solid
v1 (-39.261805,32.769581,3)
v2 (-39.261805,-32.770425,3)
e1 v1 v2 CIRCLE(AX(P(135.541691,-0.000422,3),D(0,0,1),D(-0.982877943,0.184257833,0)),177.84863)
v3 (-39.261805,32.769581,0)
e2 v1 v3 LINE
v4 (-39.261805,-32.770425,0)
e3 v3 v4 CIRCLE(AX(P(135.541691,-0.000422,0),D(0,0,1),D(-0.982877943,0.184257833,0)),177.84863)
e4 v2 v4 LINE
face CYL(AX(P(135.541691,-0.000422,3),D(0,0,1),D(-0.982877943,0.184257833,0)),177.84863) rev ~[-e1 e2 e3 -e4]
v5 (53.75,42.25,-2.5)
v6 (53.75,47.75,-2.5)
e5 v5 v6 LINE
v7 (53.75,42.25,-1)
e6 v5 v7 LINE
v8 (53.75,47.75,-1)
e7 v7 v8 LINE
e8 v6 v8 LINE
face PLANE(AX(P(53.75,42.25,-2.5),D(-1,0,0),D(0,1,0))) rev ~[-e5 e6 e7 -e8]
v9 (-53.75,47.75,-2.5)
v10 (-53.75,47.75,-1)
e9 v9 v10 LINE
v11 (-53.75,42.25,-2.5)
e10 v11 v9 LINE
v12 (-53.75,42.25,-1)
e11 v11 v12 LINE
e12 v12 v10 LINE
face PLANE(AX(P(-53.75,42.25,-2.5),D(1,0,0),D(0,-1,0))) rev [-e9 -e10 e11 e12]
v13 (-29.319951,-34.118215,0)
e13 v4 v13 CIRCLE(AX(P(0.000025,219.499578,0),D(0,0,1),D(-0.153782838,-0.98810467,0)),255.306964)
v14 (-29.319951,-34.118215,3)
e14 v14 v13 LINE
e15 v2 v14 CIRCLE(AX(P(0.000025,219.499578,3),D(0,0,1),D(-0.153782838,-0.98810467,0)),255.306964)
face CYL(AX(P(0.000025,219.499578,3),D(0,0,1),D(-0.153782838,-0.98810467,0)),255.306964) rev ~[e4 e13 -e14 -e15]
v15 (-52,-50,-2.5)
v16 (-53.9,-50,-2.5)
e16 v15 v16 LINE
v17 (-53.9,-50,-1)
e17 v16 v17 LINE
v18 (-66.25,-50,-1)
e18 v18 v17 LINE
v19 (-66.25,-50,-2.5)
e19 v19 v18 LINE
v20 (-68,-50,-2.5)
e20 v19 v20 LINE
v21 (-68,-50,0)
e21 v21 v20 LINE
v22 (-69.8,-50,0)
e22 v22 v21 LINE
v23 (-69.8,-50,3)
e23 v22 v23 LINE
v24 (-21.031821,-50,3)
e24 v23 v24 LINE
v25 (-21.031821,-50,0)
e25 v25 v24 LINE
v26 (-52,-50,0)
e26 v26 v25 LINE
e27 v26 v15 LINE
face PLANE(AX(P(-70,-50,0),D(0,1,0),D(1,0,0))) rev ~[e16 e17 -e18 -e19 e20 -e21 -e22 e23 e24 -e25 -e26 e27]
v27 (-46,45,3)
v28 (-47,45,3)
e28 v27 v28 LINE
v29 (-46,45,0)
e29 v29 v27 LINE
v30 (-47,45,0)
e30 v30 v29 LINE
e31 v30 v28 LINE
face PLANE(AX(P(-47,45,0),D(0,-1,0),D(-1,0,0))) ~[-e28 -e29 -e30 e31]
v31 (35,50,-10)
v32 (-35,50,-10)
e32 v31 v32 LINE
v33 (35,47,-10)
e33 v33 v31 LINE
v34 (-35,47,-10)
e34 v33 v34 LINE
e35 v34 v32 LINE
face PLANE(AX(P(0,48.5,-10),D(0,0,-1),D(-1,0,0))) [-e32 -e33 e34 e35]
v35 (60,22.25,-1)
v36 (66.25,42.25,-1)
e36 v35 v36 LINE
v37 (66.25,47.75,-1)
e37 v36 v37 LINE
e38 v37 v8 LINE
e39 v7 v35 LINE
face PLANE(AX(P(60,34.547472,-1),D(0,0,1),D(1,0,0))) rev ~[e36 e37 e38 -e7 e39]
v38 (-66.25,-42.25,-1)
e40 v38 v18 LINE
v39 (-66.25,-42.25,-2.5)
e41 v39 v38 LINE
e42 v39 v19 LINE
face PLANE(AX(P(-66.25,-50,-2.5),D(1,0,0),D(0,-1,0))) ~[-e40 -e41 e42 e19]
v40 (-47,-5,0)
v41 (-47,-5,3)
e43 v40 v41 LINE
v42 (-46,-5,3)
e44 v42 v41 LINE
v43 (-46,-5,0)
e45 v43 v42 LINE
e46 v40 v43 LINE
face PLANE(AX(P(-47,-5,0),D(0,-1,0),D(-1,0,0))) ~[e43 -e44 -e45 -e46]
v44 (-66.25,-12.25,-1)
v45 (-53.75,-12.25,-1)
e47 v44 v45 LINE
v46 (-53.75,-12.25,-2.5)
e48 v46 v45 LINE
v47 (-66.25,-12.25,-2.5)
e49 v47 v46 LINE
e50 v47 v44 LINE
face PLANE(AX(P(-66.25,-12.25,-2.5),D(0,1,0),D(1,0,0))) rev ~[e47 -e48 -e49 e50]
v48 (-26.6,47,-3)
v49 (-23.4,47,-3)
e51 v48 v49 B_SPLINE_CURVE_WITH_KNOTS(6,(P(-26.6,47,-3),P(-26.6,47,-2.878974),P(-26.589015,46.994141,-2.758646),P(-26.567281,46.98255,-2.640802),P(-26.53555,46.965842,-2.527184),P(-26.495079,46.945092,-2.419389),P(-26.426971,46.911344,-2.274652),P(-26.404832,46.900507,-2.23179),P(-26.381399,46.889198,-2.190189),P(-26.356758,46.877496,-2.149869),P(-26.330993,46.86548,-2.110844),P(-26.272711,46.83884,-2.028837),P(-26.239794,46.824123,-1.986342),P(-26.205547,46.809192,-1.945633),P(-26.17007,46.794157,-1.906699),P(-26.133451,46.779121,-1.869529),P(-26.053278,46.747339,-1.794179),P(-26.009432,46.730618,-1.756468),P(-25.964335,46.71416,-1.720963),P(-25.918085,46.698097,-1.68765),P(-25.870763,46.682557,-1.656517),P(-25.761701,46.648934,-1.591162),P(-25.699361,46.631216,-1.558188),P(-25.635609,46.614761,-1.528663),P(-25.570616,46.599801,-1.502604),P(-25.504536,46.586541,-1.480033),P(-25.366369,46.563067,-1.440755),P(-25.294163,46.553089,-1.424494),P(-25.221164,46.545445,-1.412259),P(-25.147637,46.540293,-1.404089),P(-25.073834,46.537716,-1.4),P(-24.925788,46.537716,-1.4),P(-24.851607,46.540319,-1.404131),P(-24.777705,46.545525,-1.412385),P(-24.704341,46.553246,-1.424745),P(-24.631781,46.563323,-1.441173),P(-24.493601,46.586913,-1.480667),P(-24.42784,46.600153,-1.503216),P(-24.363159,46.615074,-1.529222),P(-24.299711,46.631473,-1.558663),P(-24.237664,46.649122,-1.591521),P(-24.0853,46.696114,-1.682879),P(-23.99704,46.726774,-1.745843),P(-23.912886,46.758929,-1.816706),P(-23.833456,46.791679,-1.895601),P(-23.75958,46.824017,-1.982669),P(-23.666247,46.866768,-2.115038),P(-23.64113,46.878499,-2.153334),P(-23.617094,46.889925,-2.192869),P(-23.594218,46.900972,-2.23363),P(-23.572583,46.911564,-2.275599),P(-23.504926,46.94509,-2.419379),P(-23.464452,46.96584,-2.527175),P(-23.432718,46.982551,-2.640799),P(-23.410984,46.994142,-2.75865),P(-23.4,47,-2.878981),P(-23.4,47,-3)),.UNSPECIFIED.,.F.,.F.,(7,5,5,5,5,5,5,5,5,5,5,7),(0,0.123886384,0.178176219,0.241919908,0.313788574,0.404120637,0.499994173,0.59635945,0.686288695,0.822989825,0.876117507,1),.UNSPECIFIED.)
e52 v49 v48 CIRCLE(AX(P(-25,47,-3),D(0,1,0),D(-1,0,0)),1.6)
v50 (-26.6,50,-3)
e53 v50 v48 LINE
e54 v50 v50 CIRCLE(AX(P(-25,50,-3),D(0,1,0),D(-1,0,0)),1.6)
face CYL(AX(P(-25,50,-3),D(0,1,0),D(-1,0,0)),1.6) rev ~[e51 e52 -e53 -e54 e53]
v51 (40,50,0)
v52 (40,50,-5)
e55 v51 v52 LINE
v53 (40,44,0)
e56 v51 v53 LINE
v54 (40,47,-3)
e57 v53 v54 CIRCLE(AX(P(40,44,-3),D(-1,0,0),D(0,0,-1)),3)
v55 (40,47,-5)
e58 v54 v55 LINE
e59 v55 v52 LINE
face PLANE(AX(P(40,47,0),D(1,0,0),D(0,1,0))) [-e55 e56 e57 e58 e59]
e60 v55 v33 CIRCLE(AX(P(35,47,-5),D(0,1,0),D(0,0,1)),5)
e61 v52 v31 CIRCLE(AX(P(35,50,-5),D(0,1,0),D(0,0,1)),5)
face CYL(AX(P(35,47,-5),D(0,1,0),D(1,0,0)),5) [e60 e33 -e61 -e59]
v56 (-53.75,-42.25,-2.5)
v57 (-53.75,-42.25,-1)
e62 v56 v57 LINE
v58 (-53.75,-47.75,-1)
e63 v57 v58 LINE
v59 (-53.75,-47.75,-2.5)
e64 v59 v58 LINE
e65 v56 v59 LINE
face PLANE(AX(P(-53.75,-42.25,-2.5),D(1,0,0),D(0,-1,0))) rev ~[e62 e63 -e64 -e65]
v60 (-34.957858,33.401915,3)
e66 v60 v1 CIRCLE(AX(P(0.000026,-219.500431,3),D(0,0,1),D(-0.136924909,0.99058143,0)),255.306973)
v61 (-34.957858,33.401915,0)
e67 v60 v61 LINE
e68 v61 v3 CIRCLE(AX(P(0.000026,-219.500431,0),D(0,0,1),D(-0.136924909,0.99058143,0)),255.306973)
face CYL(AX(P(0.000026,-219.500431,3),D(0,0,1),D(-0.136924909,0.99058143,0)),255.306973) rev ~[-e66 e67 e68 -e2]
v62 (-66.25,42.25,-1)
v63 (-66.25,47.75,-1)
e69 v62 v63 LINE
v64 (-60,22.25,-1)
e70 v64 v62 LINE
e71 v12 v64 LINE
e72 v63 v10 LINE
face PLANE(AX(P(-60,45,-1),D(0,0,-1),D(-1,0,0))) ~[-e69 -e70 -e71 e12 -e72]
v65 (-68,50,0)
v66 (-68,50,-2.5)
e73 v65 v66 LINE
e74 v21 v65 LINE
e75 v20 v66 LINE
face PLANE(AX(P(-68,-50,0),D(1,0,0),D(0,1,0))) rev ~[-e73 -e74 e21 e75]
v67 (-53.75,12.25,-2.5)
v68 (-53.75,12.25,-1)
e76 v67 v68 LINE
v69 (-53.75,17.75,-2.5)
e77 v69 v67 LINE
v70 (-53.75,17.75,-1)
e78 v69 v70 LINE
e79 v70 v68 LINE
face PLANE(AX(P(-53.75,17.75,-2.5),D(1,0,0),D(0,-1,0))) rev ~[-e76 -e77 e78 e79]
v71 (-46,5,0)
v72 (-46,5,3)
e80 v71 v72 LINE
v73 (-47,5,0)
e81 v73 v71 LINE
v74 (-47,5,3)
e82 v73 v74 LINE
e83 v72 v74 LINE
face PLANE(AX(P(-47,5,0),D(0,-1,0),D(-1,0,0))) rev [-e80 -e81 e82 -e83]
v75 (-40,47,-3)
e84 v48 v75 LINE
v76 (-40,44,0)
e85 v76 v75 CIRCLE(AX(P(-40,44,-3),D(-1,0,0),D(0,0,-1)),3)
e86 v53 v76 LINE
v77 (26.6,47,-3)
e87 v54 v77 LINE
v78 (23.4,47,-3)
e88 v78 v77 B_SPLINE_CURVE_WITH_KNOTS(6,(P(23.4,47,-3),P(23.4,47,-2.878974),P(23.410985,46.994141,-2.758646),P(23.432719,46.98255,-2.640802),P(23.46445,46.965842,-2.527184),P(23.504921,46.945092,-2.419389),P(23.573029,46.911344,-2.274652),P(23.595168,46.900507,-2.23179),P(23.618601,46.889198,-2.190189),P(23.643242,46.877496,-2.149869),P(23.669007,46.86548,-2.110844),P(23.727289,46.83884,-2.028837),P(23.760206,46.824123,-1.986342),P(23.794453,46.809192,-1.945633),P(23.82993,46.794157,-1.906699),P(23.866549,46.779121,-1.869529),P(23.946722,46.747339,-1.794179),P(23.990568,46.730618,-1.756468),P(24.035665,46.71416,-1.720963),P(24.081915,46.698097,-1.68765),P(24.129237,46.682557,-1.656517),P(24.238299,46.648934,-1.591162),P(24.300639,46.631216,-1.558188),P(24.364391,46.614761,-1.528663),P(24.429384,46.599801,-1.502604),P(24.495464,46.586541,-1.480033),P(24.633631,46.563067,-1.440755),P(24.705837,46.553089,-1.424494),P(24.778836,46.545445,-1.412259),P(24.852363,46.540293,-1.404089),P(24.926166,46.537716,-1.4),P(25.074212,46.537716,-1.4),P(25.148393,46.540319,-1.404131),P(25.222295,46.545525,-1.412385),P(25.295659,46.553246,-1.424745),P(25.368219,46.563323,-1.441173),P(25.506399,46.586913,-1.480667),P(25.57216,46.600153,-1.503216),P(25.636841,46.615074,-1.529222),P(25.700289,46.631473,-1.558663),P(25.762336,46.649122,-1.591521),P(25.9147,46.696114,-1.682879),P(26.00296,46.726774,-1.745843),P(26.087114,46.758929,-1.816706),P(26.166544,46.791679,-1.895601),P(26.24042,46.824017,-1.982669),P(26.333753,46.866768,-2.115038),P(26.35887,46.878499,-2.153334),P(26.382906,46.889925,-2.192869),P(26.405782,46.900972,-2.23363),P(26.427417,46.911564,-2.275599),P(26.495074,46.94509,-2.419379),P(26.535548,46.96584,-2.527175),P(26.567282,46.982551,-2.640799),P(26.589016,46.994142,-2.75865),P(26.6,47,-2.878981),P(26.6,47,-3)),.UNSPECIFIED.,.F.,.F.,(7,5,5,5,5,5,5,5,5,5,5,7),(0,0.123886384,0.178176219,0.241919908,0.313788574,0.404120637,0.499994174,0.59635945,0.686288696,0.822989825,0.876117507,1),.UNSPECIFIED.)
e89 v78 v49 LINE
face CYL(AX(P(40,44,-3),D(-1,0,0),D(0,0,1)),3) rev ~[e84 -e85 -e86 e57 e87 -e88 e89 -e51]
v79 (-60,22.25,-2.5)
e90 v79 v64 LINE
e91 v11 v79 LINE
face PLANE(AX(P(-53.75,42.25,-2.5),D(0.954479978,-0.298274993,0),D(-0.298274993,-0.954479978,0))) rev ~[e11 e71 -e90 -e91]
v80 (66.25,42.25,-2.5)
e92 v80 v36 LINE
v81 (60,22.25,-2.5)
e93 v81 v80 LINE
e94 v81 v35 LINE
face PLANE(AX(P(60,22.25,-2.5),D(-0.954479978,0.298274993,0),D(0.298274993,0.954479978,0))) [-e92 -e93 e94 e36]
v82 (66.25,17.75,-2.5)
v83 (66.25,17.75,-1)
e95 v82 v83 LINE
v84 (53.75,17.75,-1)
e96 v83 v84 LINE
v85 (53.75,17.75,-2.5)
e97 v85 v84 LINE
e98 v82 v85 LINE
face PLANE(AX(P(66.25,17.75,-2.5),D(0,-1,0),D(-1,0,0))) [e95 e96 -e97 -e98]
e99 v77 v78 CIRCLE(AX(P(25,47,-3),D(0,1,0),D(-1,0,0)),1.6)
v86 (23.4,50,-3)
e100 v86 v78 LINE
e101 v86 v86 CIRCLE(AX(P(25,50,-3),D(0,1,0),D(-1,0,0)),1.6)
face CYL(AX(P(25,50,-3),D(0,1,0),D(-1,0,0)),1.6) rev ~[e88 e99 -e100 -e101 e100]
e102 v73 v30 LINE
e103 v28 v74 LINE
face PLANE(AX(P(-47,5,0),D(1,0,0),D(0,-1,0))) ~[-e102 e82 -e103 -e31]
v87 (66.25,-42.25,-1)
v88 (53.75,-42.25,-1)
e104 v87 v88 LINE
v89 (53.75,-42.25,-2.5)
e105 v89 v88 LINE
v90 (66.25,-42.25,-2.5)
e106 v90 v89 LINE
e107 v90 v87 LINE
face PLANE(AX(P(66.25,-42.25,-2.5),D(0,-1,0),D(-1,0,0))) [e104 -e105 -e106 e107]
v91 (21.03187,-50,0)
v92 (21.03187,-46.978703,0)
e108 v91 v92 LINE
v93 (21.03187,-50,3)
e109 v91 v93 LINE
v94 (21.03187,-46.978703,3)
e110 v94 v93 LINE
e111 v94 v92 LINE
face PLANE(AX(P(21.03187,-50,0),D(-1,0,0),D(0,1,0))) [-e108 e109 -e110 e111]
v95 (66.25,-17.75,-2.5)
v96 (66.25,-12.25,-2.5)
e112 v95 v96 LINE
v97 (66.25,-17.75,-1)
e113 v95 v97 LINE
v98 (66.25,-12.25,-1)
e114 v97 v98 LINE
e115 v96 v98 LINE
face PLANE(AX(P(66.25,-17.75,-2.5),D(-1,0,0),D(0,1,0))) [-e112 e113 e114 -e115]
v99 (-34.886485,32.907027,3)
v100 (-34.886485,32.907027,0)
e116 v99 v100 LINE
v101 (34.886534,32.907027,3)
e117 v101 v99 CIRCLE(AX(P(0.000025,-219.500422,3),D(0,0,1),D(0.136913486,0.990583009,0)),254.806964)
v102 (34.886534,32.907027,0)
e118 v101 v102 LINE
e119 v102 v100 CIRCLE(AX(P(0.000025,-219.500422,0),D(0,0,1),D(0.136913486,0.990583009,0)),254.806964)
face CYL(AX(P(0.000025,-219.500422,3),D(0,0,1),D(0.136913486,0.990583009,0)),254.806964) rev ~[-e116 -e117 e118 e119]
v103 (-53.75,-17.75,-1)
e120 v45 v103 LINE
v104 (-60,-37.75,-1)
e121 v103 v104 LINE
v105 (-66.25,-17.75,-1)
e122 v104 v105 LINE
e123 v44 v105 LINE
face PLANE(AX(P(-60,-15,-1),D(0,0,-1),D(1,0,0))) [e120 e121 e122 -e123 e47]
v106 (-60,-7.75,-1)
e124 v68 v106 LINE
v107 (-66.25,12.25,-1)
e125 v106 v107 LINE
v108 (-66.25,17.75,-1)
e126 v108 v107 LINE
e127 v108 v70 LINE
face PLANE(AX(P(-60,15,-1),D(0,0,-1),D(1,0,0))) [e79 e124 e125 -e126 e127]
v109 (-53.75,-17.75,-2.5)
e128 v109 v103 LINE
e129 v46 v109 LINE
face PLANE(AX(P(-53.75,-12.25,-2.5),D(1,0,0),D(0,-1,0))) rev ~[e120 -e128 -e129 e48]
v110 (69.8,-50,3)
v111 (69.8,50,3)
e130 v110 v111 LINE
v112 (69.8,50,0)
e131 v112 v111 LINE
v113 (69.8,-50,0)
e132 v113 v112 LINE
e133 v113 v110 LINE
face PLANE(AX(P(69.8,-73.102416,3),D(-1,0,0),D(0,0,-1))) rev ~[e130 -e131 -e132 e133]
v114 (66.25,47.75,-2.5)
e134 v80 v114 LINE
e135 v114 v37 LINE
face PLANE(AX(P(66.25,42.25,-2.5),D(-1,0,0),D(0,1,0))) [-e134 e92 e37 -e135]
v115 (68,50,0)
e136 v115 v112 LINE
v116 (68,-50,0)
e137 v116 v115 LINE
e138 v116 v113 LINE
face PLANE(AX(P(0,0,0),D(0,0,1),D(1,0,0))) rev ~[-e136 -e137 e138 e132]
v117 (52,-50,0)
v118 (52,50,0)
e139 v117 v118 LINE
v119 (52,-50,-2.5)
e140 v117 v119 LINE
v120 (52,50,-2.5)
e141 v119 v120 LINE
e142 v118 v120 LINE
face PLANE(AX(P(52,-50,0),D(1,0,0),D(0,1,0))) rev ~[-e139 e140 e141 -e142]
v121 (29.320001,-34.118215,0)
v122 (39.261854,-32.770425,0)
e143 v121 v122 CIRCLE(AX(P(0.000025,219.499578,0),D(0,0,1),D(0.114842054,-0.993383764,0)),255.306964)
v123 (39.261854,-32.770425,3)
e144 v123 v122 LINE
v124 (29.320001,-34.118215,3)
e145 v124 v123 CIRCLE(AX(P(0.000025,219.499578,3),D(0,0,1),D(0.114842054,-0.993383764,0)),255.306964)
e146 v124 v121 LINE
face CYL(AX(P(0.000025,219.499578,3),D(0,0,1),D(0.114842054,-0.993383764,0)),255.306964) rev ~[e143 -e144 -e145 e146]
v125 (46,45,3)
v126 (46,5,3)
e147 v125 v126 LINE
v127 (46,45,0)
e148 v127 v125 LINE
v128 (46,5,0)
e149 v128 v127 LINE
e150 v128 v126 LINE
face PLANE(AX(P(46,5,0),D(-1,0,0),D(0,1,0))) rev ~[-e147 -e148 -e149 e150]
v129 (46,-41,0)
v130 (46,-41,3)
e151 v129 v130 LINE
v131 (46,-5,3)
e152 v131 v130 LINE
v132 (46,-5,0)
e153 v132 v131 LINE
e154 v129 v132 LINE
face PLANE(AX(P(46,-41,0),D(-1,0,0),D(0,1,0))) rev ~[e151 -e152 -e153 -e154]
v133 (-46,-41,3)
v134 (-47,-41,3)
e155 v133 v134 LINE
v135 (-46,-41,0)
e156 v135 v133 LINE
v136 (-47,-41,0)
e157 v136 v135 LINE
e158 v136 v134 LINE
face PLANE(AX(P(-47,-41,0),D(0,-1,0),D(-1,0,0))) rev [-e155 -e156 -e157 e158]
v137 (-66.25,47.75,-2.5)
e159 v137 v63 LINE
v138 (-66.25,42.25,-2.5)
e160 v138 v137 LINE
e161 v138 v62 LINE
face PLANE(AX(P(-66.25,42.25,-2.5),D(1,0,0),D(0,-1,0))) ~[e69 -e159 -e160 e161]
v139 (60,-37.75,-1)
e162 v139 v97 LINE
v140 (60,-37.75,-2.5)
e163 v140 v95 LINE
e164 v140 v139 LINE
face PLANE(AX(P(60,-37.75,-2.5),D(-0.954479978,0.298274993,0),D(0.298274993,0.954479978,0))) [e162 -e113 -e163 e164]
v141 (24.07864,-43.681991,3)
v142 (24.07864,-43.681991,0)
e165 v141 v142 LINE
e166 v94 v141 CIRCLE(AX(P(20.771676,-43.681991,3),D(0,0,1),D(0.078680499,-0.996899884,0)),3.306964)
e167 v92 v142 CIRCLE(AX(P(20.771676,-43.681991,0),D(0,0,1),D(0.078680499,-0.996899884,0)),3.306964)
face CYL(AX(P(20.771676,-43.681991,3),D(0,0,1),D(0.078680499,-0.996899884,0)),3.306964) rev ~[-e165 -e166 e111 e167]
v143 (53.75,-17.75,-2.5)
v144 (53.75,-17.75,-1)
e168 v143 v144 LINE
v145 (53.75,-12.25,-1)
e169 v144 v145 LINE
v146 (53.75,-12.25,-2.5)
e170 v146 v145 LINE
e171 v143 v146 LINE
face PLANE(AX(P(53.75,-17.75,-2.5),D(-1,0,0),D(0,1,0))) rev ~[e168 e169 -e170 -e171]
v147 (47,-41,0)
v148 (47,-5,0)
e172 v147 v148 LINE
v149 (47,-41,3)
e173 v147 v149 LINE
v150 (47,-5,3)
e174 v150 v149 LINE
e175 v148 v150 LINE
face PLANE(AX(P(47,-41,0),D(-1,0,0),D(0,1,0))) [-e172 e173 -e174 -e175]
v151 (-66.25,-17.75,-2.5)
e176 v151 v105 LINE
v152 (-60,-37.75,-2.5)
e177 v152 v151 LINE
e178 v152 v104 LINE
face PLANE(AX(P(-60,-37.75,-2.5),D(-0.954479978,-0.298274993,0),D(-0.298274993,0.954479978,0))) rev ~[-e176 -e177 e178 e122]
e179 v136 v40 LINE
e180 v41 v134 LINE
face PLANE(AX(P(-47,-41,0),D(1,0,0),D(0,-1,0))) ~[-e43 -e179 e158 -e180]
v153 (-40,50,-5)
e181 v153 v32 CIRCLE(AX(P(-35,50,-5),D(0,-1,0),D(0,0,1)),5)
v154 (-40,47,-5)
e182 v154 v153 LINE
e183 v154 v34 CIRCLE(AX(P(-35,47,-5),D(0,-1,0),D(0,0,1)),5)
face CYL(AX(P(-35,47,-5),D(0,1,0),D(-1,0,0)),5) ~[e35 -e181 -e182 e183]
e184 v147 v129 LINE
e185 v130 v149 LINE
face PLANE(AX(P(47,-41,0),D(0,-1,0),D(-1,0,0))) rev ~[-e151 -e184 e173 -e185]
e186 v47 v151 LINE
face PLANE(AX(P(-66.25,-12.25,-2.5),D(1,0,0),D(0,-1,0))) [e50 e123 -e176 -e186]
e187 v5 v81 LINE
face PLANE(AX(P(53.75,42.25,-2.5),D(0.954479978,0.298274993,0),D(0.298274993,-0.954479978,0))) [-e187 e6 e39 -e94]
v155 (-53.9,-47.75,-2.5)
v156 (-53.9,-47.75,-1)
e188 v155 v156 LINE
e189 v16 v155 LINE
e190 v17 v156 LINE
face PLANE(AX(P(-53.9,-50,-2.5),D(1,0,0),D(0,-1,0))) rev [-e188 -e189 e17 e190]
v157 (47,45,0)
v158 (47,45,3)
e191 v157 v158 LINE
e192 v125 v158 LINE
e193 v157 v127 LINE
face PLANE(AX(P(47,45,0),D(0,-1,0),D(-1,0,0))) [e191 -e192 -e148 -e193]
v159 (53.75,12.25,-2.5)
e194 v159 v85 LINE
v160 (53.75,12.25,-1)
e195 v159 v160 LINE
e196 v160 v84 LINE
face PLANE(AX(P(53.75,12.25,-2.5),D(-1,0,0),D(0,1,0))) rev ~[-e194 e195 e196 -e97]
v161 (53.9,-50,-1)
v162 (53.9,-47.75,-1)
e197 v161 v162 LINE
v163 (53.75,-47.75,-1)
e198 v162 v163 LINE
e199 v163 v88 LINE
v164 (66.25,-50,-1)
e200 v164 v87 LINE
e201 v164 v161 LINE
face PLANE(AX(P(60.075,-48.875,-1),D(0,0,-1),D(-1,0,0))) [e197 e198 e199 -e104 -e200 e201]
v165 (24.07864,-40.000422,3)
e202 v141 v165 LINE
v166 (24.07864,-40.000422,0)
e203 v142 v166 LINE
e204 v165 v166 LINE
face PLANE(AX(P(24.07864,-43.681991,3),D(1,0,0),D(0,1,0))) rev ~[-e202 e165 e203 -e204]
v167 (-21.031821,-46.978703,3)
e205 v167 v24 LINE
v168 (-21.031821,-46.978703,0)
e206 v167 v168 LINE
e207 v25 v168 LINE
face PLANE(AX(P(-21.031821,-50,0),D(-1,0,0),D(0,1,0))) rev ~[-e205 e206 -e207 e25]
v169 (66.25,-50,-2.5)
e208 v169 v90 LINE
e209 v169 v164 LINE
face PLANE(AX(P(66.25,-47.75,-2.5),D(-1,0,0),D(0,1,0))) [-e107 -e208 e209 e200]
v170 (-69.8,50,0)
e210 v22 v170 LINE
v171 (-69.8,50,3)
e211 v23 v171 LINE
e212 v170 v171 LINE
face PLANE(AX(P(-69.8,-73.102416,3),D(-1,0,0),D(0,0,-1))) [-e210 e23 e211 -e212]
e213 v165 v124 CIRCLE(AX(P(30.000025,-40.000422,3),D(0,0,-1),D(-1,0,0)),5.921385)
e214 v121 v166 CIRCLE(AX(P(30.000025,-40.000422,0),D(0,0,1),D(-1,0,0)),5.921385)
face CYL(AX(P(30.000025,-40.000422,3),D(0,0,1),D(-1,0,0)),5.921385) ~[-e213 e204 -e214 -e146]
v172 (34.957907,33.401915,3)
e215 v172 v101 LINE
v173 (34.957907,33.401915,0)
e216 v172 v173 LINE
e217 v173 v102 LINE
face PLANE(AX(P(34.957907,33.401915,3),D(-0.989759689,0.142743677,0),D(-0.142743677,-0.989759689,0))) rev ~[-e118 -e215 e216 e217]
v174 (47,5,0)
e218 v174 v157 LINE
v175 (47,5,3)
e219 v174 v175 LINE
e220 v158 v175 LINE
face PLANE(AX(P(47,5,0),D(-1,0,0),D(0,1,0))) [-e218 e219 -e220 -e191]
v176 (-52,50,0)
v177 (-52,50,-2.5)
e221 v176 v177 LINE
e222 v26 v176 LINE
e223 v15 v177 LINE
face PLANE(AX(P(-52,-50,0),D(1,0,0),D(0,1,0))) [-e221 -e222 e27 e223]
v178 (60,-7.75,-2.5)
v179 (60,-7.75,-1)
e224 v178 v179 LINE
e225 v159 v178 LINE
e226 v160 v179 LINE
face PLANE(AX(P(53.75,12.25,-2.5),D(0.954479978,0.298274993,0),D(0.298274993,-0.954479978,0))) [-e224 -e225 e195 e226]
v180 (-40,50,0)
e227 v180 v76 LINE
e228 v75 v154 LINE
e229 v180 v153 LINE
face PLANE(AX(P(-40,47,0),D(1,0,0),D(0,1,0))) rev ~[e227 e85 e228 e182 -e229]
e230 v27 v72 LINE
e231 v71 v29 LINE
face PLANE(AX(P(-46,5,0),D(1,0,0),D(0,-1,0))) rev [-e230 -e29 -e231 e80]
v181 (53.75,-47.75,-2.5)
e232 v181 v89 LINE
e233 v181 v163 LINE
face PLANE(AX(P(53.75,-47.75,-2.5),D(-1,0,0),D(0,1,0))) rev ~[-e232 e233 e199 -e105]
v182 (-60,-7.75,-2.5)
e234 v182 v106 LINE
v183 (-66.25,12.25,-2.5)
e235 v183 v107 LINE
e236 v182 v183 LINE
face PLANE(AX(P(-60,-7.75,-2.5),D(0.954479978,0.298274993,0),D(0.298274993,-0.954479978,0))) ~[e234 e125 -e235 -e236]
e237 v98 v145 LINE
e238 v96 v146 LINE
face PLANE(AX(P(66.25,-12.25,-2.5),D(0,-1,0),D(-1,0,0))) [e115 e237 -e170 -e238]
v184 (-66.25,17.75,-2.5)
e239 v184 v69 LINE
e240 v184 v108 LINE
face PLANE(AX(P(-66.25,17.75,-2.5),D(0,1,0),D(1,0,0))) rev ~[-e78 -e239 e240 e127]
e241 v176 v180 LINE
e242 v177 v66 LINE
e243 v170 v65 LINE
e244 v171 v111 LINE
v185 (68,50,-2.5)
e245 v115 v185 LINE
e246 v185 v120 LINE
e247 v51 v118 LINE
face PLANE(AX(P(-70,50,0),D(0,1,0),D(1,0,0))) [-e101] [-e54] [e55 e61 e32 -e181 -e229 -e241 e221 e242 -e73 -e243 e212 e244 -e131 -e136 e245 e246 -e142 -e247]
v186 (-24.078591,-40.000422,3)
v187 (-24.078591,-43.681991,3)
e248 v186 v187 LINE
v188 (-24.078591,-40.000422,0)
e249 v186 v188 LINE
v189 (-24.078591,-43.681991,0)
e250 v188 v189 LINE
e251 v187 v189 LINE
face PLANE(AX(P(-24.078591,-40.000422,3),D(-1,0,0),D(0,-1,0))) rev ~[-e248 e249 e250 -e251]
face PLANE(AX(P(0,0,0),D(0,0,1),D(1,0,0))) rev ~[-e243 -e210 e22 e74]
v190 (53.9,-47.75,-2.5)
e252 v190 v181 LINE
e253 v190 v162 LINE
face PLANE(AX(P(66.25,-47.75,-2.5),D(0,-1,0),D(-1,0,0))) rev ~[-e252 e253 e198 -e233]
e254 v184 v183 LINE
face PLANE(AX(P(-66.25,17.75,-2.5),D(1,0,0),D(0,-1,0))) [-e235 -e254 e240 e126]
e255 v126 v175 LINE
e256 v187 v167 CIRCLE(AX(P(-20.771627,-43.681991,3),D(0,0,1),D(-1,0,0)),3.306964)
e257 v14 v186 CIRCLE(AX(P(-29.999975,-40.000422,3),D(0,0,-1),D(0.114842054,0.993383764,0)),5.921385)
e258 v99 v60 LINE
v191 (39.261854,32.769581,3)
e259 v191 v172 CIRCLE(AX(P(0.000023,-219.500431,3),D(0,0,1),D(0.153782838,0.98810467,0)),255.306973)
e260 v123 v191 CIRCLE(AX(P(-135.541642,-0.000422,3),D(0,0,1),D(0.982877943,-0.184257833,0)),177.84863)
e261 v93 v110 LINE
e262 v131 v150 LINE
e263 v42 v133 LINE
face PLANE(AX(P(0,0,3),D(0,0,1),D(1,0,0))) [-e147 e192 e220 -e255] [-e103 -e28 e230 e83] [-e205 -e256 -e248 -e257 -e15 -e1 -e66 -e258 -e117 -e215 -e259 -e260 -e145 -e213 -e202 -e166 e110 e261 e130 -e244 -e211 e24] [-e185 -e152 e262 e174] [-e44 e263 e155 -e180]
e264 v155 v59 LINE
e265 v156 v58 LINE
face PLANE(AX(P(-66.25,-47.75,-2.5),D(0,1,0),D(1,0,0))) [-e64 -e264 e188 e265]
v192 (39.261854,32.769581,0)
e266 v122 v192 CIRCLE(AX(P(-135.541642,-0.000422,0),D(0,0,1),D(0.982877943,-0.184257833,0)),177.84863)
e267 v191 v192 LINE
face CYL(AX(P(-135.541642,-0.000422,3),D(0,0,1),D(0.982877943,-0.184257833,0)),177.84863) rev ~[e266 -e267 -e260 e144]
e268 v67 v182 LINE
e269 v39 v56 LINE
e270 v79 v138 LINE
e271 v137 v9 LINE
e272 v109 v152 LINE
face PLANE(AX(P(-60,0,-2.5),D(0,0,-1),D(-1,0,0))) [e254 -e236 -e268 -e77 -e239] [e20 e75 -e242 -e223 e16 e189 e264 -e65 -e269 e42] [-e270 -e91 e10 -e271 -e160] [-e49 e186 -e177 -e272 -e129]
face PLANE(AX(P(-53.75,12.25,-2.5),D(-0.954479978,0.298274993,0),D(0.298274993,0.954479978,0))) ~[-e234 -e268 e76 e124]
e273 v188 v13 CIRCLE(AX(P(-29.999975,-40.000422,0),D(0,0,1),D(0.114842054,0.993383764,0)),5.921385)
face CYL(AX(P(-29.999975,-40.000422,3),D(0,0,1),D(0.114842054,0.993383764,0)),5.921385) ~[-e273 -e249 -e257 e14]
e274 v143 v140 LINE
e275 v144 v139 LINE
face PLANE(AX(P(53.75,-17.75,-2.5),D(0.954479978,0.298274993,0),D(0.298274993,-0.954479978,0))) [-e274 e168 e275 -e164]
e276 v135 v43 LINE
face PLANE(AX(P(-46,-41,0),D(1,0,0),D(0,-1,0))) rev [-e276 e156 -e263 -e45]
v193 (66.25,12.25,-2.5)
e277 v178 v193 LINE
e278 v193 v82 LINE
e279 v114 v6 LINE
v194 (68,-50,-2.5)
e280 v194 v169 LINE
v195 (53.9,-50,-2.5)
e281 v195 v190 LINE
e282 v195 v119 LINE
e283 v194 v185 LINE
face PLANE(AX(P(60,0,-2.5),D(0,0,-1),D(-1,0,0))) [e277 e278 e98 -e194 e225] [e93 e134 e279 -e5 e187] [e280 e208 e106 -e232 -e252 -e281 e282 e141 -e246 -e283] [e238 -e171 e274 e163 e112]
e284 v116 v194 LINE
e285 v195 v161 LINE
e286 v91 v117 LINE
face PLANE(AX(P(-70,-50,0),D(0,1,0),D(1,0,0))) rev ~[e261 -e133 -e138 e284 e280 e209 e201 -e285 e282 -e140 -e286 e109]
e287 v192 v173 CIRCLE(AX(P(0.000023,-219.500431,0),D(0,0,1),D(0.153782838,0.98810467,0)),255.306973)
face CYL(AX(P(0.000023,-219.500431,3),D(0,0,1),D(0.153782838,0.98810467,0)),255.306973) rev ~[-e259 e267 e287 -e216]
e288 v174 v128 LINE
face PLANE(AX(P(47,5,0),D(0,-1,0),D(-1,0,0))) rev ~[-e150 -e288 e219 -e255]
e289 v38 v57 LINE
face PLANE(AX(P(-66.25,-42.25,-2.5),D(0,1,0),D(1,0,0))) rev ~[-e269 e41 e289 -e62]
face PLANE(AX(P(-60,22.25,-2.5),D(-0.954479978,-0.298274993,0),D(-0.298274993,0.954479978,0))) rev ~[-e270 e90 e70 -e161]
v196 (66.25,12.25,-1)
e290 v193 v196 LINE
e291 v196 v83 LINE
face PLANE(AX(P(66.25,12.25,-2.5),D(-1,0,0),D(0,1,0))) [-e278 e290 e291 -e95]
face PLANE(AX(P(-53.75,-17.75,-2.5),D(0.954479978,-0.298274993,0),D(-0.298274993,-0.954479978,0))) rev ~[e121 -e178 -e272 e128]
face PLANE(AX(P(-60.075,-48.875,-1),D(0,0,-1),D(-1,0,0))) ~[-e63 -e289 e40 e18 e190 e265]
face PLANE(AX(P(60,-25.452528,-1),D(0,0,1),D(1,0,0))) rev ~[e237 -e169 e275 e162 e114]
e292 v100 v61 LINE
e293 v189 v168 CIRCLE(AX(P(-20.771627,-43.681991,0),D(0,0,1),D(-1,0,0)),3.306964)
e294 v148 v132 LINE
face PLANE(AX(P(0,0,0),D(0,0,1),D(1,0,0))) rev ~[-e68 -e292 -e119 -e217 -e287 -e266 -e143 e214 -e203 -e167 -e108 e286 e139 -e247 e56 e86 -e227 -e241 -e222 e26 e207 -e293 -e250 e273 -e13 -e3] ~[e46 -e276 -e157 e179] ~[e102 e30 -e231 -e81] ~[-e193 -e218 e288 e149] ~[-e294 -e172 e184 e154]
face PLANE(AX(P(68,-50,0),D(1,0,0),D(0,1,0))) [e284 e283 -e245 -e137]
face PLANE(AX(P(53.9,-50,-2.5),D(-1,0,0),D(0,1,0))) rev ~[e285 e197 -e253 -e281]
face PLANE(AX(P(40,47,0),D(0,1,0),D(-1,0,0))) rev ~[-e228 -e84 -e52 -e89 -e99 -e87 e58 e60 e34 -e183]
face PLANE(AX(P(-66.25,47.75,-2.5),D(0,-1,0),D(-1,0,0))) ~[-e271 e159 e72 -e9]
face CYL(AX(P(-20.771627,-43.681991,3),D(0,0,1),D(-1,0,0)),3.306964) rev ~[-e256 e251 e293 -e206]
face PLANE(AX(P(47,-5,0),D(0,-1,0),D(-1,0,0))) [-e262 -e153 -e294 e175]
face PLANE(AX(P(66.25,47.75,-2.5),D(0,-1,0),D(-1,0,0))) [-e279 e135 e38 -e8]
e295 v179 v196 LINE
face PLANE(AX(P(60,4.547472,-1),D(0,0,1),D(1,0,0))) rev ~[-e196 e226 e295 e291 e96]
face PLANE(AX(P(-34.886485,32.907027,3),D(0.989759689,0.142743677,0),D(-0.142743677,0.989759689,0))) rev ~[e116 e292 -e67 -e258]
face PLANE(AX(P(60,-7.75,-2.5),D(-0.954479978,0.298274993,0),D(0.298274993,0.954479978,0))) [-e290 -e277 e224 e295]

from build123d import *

# Parameters (mm, degrees)
SKETCH1_W                 = 140
SKETCH1_H                 = 100
BOSS_EXTRUDE1_DEPTH       = 3
SKETCH3_W                 = 16
SKETCH3_H                 = 100
BOSS_EXTRUDE2_DEPTH       = 2.5
SKETCH4_W                 = 12.5
SKETCH4_H                 = 5.5
CUT_EXTRUDE1_DEPTH        = 1.5
LPATTERN1_COUNT           = 4
LPATTERN1_PITCH           = 30
LPATTERN1_COPY_1_SKETCH_W = 12.5
LPATTERN1_COPY_1_SKETCH_H = 5.5
LPATTERN1_COPY_1_DEPTH    = 1.5
LPATTERN1_COPY_2_SKETCH_W = 12.5
LPATTERN1_COPY_2_SKETCH_H = 5.5
LPATTERN1_COPY_2_DEPTH    = 1.5
LPATTERN1_COPY_3_SKETCH_W = 12.5
LPATTERN1_COPY_3_SKETCH_H = 5.5
LPATTERN1_COPY_3_DEPTH    = 1.5
CUT_EXTRUDE3_DEPTH        = 123.102416029
CUT_EXTRUDE3_DEPTH_BACK   = 123.102416029
SKETCH6_W                 = 0.2
SKETCH6_H                 = 3
CUT_EXTRUDE5_DEPTH        = 1.5
LPATTERN2_COUNT           = 2
LPATTERN2_PITCH           = 30
LPATTERN2_COL_COUNT       = 2
LPATTERN2_COL_PITCH       = 30
MIRROR4_COPY_1_DEPTH      = 1.5
MIRROR4_COPY_2_DEPTH      = 1.5
SKETCH13_W                = 1
SKETCH13_H                = 40
SKETCH13_H_2              = 36
CUT_EXTRUDE7_DEPTH        = 10
SKETCH15_W                = 80
SKETCH15_H                = 3
BOSS_EXTRUDE4_DEPTH       = 10
FILLET2_R                 = 5
FILLET3_R                 = 3
SKETCH17_W                = 12.35
SKETCH17_H                = 2.25
CUT_EXTRUDE9_DEPTH        = 1.5
SKETCH18_R                = 1.6
CUT_EXTRUDE10_DEPTH       = 10
CUT_EXTRUDE11_DEPTH       = 10
SKETCH25_W                = 42.063690351
SKETCH25_H                = 4.970755329
CUT_EXTRUDE12_DEPTH       = 10


with BuildPart() as part:
    # Sketch1 → Boss-Extrude1 (new body)
    with BuildSketch(Plane.XY):
        Rectangle(SKETCH1_W, SKETCH1_H)
    extrude(amount=BOSS_EXTRUDE1_DEPTH)

    # Sketch3 → Boss-Extrude2 (add)
    with BuildSketch(Plane(origin=(0, 0, 0), x_dir=(-1, 0, 0), z_dir=(0, 0, -1))):
        with Locations((-60, 0)):
            Rectangle(SKETCH3_W, SKETCH3_H)
        with Locations((60, 0)):
            Rectangle(SKETCH3_W, SKETCH3_H)
    extrude(amount=BOSS_EXTRUDE2_DEPTH)

    # Sketch4 → Cut-Extrude1 (cut)
    with BuildSketch(Plane(origin=(0, 0, -2.5), x_dir=(-1, 0, 0), z_dir=(0, 0, -1))):
        with Locations((-60, 45)):
            Rectangle(SKETCH4_W, SKETCH4_H)
    cut_extrude1 = extrude(amount=-CUT_EXTRUDE1_DEPTH, mode=Mode.SUBTRACT)

    # Mirror1: Cut-Extrude1 across plane
    add(cut_extrude1.mirror(Plane(origin=(0, 0, 0), x_dir=(0, 0, 1), z_dir=(1, 0, 0))), mode=Mode.SUBTRACT)

    # LPattern1: Cut-Extrude1 ×4
    with Locations(*[(0, -i * LPATTERN1_PITCH, 0) for i in range(1, LPATTERN1_COUNT)]):
        add(cut_extrude1, mode=Mode.SUBTRACT)

    # LPattern1 copy 1 sketch → LPattern1 copy 1 (cut)
    with BuildSketch(Plane(origin=(0, -30, -2.5), x_dir=(1, 0, 0), z_dir=(0, 0, -1))):
        with Locations((-60, -45)):
            Rectangle(LPATTERN1_COPY_1_SKETCH_W, LPATTERN1_COPY_1_SKETCH_H)
    extrude(amount=-LPATTERN1_COPY_1_DEPTH, mode=Mode.SUBTRACT)

    # LPattern1 copy 2 sketch → LPattern1 copy 2 (cut)
    with BuildSketch(Plane(origin=(0, -60, -2.5), x_dir=(1, 0, 0), z_dir=(0, 0, -1))):
        with Locations((-60, -45)):
            Rectangle(LPATTERN1_COPY_2_SKETCH_W, LPATTERN1_COPY_2_SKETCH_H)
    extrude(amount=-LPATTERN1_COPY_2_DEPTH, mode=Mode.SUBTRACT)

    # LPattern1 copy 3 sketch → LPattern1 copy 3 (cut)
    with BuildSketch(Plane(origin=(0, -90, -2.5), x_dir=(1, 0, 0), z_dir=(0, 0, -1))):
        with Locations((-60, -45)):
            Rectangle(LPATTERN1_COPY_3_SKETCH_W, LPATTERN1_COPY_3_SKETCH_H)
    extrude(amount=-LPATTERN1_COPY_3_DEPTH, mode=Mode.SUBTRACT)

    # Sketch6 → Cut-Extrude3 (cut, two sides: drawn at the far end of the back side and taken through both)
    with BuildSketch(Plane(origin=(0, 50, 0), x_dir=(1, 0, 0), z_dir=(0, 1, 0)).offset(-CUT_EXTRUDE3_DEPTH_BACK)):
        with Locations((-69.9, -1.5)):
            Rectangle(SKETCH6_W, SKETCH6_H)
        with Locations((69.9, -1.5)):
            Rectangle(SKETCH6_W, SKETCH6_H)
    extrude(amount=CUT_EXTRUDE3_DEPTH + CUT_EXTRUDE3_DEPTH_BACK, mode=Mode.SUBTRACT)

    # Sketch11 → Cut-Extrude5 (cut)
    with BuildSketch(Plane(origin=(0, 0, -2.5), x_dir=(-1, 0, 0), z_dir=(0, 0, -1))):
        Polygon((-53.75, 12.25), (-60, -7.75), (-66.25, 12.25), align=None)
    cut_extrude5 = extrude(amount=-CUT_EXTRUDE5_DEPTH, mode=Mode.SUBTRACT)

    # LPattern2: Cut-Extrude5 ×2
    with Locations(*[(0, i * LPATTERN2_PITCH, 0) for i in range(1, LPATTERN2_COUNT)]):
        add(cut_extrude5, mode=Mode.SUBTRACT)

    # LPattern2 col: Cut-Extrude5 ×2
    with Locations(*[(0, -i * LPATTERN2_COL_PITCH, 0) for i in range(1, LPATTERN2_COL_COUNT)]):
        add(cut_extrude5, mode=Mode.SUBTRACT)

    # Mirror4: Cut-Extrude5 across plane
    add(cut_extrude5.mirror(Plane(origin=(0, 0, 0), x_dir=(0, 0, 1), z_dir=(1, 0, 0))), mode=Mode.SUBTRACT)

    # Mirror4 copy 1 sketch → Mirror4 copy 1 (cut)
    with BuildSketch(Plane(origin=(0, 30, -2.5), x_dir=(1, 0, 0), z_dir=(0, 0, -1))):
        Polygon((-53.75, -12.25), (-60, 7.75), (-66.25, -12.25), align=None)
    extrude(amount=-MIRROR4_COPY_1_DEPTH, mode=Mode.SUBTRACT)

    # Mirror4 copy 2 sketch → Mirror4 copy 2 (cut)
    with BuildSketch(Plane(origin=(0, -30, -2.5), x_dir=(1, 0, 0), z_dir=(0, 0, -1))):
        Polygon((-53.75, -12.25), (-60, 7.75), (-66.25, -12.25), align=None)
    extrude(amount=-MIRROR4_COPY_2_DEPTH, mode=Mode.SUBTRACT)

    # Sketch13 → Cut-Extrude7 (cut)
    with BuildSketch(Plane(origin=(0, 0, 0), x_dir=(-1, 0, 0), z_dir=(0, 0, -1))):
        with Locations((-46.5, 25)):
            Rectangle(SKETCH13_W, SKETCH13_H)
        with Locations((-46.5, -23)):
            Rectangle(SKETCH13_W, SKETCH13_H_2)
    cut_extrude7 = extrude(amount=-CUT_EXTRUDE7_DEPTH, mode=Mode.SUBTRACT)

    # Mirror7: Cut-Extrude7 across plane
    add(cut_extrude7.mirror(Plane(origin=(0, 0, 0), x_dir=(0, 0, 1), z_dir=(1, 0, 0))), mode=Mode.SUBTRACT)

    # Sketch15 → Boss-Extrude4 (add)
    with BuildSketch(Plane(origin=(0, 0, 0), x_dir=(-1, 0, 0), z_dir=(0, 0, -1))):
        with Locations((0, 48.5)):
            Rectangle(SKETCH15_W, SKETCH15_H)
    extrude(amount=BOSS_EXTRUDE4_DEPTH)

    # Fillet2
    fillet2_edges = [part.edges().sort_by_distance(p)[0] for p in [
        (40, 48.5, -10),
        (-40, 48.5, -10),
    ]]
    fillet(fillet2_edges, radius=FILLET2_R)

    # Fillet3
    fillet3_edges = [part.edges().sort_by_distance(p)[0] for p in [
        (0, 47, 0),
    ]]
    fillet(fillet3_edges, radius=FILLET3_R)

    # Sketch17 → Cut-Extrude9 (cut)
    with BuildSketch(Plane(origin=(0, 0, -2.5), x_dir=(-1, 0, 0), z_dir=(0, 0, -1))):
        with Locations((-60.075, -48.875)):
            Rectangle(SKETCH17_W, SKETCH17_H)
    cut_extrude9 = extrude(amount=-CUT_EXTRUDE9_DEPTH, mode=Mode.SUBTRACT)

    # Mirror8: Cut-Extrude9 across plane
    add(cut_extrude9.mirror(Plane(origin=(0, 0, 0), x_dir=(0, 0, 1), z_dir=(1, 0, 0))), mode=Mode.SUBTRACT)

    # Sketch18 → Cut-Extrude10 (cut)
    with BuildSketch(Plane(origin=(0, 50, 0), x_dir=(1, 0, 0), z_dir=(0, 1, 0))):
        with Locations(Location((-25, 3, 0), (0, 0, 180))):
            Circle(SKETCH18_R)
        with Locations(Location((25, 3, 0), (0, 0, 180))):
            Circle(SKETCH18_R)
    extrude(amount=-CUT_EXTRUDE10_DEPTH, mode=Mode.SUBTRACT)

    # Sketch24 → Cut-Extrude11 (cut)
    with BuildSketch(Plane.XY.offset(3)):
        with BuildLine():
            Line((-24.07859083, -40.000422033), (-24.07859083, -43.681991466))
            ThreePointArc((-24.07859083, -43.681991466), (-23.20025424, -45.92649129), (-21.031820585, -46.978703301))
            ThreePointArc((-21.031820585, -46.978703301), (-16.771632398, -47.280714447), (-12.507162767, -47.514622336))
            Line((-12.507162767, -47.514622336), (12.507211948, -47.514622336))
            ThreePointArc((12.507211948, -47.514622336), (16.771681578, -47.280714447), (21.031869766, -46.978703301))
            ThreePointArc((21.031869766, -46.978703301), (23.20030342, -45.92649129), (24.078640011, -43.681991466))
            Line((24.078640011, -43.681991466), (24.078640011, -40.000422033))
            ThreePointArc((24.078640011, -40.000422033), (25.579081322, -36.061125654), (29.320000625, -34.118214731))
            ThreePointArc((29.320000625, -34.118214731), (34.297548475, -33.493160314), (39.26185403, -32.770425237))
            ThreePointArc((39.26185403, -32.770425237), (42.306988396, -0.000422033), (39.26185403, 32.769581172))
            ThreePointArc((39.26185403, 32.769581172), (37.111227515, 33.094915187), (34.957907382, 33.401915241))
            Line((34.957907382, 33.401915241), (34.886534309, 32.907026835))
            ThreePointArc((34.886534309, 32.907026835), (2.459e-05, 35.306541773), (-34.886485128, 32.907026835))
            Line((-34.886485128, 32.907026835), (-34.957858201, 33.401915241))
            ThreePointArc((-34.957858201, 33.401915241), (-37.111178334, 33.094915187), (-39.261804849, 32.769581172))
            ThreePointArc((-39.261804849, 32.769581172), (-42.306939215, -0.000422033), (-39.261804849, -32.770425237))
            ThreePointArc((-39.261804849, -32.770425237), (-34.297499295, -33.493160314), (-29.319951444, -34.118214731))
            ThreePointArc((-29.319951444, -34.118214731), (-25.579032142, -36.061125654), (-24.07859083, -40.000422033))
        make_face()
    extrude(amount=-CUT_EXTRUDE11_DEPTH, mode=Mode.SUBTRACT)

    # Sketch25 → Cut-Extrude12 (cut)
    with BuildSketch(Plane(origin=(0, 0, 0), x_dir=(-1, 0, 0), z_dir=(0, 0, -1))):
        with Locations((-2.459e-05, -47.514622336)):
            Rectangle(SKETCH25_W, SKETCH25_H)
    extrude(amount=-CUT_EXTRUDE12_DEPTH, mode=Mode.SUBTRACT)


solid = part.part
